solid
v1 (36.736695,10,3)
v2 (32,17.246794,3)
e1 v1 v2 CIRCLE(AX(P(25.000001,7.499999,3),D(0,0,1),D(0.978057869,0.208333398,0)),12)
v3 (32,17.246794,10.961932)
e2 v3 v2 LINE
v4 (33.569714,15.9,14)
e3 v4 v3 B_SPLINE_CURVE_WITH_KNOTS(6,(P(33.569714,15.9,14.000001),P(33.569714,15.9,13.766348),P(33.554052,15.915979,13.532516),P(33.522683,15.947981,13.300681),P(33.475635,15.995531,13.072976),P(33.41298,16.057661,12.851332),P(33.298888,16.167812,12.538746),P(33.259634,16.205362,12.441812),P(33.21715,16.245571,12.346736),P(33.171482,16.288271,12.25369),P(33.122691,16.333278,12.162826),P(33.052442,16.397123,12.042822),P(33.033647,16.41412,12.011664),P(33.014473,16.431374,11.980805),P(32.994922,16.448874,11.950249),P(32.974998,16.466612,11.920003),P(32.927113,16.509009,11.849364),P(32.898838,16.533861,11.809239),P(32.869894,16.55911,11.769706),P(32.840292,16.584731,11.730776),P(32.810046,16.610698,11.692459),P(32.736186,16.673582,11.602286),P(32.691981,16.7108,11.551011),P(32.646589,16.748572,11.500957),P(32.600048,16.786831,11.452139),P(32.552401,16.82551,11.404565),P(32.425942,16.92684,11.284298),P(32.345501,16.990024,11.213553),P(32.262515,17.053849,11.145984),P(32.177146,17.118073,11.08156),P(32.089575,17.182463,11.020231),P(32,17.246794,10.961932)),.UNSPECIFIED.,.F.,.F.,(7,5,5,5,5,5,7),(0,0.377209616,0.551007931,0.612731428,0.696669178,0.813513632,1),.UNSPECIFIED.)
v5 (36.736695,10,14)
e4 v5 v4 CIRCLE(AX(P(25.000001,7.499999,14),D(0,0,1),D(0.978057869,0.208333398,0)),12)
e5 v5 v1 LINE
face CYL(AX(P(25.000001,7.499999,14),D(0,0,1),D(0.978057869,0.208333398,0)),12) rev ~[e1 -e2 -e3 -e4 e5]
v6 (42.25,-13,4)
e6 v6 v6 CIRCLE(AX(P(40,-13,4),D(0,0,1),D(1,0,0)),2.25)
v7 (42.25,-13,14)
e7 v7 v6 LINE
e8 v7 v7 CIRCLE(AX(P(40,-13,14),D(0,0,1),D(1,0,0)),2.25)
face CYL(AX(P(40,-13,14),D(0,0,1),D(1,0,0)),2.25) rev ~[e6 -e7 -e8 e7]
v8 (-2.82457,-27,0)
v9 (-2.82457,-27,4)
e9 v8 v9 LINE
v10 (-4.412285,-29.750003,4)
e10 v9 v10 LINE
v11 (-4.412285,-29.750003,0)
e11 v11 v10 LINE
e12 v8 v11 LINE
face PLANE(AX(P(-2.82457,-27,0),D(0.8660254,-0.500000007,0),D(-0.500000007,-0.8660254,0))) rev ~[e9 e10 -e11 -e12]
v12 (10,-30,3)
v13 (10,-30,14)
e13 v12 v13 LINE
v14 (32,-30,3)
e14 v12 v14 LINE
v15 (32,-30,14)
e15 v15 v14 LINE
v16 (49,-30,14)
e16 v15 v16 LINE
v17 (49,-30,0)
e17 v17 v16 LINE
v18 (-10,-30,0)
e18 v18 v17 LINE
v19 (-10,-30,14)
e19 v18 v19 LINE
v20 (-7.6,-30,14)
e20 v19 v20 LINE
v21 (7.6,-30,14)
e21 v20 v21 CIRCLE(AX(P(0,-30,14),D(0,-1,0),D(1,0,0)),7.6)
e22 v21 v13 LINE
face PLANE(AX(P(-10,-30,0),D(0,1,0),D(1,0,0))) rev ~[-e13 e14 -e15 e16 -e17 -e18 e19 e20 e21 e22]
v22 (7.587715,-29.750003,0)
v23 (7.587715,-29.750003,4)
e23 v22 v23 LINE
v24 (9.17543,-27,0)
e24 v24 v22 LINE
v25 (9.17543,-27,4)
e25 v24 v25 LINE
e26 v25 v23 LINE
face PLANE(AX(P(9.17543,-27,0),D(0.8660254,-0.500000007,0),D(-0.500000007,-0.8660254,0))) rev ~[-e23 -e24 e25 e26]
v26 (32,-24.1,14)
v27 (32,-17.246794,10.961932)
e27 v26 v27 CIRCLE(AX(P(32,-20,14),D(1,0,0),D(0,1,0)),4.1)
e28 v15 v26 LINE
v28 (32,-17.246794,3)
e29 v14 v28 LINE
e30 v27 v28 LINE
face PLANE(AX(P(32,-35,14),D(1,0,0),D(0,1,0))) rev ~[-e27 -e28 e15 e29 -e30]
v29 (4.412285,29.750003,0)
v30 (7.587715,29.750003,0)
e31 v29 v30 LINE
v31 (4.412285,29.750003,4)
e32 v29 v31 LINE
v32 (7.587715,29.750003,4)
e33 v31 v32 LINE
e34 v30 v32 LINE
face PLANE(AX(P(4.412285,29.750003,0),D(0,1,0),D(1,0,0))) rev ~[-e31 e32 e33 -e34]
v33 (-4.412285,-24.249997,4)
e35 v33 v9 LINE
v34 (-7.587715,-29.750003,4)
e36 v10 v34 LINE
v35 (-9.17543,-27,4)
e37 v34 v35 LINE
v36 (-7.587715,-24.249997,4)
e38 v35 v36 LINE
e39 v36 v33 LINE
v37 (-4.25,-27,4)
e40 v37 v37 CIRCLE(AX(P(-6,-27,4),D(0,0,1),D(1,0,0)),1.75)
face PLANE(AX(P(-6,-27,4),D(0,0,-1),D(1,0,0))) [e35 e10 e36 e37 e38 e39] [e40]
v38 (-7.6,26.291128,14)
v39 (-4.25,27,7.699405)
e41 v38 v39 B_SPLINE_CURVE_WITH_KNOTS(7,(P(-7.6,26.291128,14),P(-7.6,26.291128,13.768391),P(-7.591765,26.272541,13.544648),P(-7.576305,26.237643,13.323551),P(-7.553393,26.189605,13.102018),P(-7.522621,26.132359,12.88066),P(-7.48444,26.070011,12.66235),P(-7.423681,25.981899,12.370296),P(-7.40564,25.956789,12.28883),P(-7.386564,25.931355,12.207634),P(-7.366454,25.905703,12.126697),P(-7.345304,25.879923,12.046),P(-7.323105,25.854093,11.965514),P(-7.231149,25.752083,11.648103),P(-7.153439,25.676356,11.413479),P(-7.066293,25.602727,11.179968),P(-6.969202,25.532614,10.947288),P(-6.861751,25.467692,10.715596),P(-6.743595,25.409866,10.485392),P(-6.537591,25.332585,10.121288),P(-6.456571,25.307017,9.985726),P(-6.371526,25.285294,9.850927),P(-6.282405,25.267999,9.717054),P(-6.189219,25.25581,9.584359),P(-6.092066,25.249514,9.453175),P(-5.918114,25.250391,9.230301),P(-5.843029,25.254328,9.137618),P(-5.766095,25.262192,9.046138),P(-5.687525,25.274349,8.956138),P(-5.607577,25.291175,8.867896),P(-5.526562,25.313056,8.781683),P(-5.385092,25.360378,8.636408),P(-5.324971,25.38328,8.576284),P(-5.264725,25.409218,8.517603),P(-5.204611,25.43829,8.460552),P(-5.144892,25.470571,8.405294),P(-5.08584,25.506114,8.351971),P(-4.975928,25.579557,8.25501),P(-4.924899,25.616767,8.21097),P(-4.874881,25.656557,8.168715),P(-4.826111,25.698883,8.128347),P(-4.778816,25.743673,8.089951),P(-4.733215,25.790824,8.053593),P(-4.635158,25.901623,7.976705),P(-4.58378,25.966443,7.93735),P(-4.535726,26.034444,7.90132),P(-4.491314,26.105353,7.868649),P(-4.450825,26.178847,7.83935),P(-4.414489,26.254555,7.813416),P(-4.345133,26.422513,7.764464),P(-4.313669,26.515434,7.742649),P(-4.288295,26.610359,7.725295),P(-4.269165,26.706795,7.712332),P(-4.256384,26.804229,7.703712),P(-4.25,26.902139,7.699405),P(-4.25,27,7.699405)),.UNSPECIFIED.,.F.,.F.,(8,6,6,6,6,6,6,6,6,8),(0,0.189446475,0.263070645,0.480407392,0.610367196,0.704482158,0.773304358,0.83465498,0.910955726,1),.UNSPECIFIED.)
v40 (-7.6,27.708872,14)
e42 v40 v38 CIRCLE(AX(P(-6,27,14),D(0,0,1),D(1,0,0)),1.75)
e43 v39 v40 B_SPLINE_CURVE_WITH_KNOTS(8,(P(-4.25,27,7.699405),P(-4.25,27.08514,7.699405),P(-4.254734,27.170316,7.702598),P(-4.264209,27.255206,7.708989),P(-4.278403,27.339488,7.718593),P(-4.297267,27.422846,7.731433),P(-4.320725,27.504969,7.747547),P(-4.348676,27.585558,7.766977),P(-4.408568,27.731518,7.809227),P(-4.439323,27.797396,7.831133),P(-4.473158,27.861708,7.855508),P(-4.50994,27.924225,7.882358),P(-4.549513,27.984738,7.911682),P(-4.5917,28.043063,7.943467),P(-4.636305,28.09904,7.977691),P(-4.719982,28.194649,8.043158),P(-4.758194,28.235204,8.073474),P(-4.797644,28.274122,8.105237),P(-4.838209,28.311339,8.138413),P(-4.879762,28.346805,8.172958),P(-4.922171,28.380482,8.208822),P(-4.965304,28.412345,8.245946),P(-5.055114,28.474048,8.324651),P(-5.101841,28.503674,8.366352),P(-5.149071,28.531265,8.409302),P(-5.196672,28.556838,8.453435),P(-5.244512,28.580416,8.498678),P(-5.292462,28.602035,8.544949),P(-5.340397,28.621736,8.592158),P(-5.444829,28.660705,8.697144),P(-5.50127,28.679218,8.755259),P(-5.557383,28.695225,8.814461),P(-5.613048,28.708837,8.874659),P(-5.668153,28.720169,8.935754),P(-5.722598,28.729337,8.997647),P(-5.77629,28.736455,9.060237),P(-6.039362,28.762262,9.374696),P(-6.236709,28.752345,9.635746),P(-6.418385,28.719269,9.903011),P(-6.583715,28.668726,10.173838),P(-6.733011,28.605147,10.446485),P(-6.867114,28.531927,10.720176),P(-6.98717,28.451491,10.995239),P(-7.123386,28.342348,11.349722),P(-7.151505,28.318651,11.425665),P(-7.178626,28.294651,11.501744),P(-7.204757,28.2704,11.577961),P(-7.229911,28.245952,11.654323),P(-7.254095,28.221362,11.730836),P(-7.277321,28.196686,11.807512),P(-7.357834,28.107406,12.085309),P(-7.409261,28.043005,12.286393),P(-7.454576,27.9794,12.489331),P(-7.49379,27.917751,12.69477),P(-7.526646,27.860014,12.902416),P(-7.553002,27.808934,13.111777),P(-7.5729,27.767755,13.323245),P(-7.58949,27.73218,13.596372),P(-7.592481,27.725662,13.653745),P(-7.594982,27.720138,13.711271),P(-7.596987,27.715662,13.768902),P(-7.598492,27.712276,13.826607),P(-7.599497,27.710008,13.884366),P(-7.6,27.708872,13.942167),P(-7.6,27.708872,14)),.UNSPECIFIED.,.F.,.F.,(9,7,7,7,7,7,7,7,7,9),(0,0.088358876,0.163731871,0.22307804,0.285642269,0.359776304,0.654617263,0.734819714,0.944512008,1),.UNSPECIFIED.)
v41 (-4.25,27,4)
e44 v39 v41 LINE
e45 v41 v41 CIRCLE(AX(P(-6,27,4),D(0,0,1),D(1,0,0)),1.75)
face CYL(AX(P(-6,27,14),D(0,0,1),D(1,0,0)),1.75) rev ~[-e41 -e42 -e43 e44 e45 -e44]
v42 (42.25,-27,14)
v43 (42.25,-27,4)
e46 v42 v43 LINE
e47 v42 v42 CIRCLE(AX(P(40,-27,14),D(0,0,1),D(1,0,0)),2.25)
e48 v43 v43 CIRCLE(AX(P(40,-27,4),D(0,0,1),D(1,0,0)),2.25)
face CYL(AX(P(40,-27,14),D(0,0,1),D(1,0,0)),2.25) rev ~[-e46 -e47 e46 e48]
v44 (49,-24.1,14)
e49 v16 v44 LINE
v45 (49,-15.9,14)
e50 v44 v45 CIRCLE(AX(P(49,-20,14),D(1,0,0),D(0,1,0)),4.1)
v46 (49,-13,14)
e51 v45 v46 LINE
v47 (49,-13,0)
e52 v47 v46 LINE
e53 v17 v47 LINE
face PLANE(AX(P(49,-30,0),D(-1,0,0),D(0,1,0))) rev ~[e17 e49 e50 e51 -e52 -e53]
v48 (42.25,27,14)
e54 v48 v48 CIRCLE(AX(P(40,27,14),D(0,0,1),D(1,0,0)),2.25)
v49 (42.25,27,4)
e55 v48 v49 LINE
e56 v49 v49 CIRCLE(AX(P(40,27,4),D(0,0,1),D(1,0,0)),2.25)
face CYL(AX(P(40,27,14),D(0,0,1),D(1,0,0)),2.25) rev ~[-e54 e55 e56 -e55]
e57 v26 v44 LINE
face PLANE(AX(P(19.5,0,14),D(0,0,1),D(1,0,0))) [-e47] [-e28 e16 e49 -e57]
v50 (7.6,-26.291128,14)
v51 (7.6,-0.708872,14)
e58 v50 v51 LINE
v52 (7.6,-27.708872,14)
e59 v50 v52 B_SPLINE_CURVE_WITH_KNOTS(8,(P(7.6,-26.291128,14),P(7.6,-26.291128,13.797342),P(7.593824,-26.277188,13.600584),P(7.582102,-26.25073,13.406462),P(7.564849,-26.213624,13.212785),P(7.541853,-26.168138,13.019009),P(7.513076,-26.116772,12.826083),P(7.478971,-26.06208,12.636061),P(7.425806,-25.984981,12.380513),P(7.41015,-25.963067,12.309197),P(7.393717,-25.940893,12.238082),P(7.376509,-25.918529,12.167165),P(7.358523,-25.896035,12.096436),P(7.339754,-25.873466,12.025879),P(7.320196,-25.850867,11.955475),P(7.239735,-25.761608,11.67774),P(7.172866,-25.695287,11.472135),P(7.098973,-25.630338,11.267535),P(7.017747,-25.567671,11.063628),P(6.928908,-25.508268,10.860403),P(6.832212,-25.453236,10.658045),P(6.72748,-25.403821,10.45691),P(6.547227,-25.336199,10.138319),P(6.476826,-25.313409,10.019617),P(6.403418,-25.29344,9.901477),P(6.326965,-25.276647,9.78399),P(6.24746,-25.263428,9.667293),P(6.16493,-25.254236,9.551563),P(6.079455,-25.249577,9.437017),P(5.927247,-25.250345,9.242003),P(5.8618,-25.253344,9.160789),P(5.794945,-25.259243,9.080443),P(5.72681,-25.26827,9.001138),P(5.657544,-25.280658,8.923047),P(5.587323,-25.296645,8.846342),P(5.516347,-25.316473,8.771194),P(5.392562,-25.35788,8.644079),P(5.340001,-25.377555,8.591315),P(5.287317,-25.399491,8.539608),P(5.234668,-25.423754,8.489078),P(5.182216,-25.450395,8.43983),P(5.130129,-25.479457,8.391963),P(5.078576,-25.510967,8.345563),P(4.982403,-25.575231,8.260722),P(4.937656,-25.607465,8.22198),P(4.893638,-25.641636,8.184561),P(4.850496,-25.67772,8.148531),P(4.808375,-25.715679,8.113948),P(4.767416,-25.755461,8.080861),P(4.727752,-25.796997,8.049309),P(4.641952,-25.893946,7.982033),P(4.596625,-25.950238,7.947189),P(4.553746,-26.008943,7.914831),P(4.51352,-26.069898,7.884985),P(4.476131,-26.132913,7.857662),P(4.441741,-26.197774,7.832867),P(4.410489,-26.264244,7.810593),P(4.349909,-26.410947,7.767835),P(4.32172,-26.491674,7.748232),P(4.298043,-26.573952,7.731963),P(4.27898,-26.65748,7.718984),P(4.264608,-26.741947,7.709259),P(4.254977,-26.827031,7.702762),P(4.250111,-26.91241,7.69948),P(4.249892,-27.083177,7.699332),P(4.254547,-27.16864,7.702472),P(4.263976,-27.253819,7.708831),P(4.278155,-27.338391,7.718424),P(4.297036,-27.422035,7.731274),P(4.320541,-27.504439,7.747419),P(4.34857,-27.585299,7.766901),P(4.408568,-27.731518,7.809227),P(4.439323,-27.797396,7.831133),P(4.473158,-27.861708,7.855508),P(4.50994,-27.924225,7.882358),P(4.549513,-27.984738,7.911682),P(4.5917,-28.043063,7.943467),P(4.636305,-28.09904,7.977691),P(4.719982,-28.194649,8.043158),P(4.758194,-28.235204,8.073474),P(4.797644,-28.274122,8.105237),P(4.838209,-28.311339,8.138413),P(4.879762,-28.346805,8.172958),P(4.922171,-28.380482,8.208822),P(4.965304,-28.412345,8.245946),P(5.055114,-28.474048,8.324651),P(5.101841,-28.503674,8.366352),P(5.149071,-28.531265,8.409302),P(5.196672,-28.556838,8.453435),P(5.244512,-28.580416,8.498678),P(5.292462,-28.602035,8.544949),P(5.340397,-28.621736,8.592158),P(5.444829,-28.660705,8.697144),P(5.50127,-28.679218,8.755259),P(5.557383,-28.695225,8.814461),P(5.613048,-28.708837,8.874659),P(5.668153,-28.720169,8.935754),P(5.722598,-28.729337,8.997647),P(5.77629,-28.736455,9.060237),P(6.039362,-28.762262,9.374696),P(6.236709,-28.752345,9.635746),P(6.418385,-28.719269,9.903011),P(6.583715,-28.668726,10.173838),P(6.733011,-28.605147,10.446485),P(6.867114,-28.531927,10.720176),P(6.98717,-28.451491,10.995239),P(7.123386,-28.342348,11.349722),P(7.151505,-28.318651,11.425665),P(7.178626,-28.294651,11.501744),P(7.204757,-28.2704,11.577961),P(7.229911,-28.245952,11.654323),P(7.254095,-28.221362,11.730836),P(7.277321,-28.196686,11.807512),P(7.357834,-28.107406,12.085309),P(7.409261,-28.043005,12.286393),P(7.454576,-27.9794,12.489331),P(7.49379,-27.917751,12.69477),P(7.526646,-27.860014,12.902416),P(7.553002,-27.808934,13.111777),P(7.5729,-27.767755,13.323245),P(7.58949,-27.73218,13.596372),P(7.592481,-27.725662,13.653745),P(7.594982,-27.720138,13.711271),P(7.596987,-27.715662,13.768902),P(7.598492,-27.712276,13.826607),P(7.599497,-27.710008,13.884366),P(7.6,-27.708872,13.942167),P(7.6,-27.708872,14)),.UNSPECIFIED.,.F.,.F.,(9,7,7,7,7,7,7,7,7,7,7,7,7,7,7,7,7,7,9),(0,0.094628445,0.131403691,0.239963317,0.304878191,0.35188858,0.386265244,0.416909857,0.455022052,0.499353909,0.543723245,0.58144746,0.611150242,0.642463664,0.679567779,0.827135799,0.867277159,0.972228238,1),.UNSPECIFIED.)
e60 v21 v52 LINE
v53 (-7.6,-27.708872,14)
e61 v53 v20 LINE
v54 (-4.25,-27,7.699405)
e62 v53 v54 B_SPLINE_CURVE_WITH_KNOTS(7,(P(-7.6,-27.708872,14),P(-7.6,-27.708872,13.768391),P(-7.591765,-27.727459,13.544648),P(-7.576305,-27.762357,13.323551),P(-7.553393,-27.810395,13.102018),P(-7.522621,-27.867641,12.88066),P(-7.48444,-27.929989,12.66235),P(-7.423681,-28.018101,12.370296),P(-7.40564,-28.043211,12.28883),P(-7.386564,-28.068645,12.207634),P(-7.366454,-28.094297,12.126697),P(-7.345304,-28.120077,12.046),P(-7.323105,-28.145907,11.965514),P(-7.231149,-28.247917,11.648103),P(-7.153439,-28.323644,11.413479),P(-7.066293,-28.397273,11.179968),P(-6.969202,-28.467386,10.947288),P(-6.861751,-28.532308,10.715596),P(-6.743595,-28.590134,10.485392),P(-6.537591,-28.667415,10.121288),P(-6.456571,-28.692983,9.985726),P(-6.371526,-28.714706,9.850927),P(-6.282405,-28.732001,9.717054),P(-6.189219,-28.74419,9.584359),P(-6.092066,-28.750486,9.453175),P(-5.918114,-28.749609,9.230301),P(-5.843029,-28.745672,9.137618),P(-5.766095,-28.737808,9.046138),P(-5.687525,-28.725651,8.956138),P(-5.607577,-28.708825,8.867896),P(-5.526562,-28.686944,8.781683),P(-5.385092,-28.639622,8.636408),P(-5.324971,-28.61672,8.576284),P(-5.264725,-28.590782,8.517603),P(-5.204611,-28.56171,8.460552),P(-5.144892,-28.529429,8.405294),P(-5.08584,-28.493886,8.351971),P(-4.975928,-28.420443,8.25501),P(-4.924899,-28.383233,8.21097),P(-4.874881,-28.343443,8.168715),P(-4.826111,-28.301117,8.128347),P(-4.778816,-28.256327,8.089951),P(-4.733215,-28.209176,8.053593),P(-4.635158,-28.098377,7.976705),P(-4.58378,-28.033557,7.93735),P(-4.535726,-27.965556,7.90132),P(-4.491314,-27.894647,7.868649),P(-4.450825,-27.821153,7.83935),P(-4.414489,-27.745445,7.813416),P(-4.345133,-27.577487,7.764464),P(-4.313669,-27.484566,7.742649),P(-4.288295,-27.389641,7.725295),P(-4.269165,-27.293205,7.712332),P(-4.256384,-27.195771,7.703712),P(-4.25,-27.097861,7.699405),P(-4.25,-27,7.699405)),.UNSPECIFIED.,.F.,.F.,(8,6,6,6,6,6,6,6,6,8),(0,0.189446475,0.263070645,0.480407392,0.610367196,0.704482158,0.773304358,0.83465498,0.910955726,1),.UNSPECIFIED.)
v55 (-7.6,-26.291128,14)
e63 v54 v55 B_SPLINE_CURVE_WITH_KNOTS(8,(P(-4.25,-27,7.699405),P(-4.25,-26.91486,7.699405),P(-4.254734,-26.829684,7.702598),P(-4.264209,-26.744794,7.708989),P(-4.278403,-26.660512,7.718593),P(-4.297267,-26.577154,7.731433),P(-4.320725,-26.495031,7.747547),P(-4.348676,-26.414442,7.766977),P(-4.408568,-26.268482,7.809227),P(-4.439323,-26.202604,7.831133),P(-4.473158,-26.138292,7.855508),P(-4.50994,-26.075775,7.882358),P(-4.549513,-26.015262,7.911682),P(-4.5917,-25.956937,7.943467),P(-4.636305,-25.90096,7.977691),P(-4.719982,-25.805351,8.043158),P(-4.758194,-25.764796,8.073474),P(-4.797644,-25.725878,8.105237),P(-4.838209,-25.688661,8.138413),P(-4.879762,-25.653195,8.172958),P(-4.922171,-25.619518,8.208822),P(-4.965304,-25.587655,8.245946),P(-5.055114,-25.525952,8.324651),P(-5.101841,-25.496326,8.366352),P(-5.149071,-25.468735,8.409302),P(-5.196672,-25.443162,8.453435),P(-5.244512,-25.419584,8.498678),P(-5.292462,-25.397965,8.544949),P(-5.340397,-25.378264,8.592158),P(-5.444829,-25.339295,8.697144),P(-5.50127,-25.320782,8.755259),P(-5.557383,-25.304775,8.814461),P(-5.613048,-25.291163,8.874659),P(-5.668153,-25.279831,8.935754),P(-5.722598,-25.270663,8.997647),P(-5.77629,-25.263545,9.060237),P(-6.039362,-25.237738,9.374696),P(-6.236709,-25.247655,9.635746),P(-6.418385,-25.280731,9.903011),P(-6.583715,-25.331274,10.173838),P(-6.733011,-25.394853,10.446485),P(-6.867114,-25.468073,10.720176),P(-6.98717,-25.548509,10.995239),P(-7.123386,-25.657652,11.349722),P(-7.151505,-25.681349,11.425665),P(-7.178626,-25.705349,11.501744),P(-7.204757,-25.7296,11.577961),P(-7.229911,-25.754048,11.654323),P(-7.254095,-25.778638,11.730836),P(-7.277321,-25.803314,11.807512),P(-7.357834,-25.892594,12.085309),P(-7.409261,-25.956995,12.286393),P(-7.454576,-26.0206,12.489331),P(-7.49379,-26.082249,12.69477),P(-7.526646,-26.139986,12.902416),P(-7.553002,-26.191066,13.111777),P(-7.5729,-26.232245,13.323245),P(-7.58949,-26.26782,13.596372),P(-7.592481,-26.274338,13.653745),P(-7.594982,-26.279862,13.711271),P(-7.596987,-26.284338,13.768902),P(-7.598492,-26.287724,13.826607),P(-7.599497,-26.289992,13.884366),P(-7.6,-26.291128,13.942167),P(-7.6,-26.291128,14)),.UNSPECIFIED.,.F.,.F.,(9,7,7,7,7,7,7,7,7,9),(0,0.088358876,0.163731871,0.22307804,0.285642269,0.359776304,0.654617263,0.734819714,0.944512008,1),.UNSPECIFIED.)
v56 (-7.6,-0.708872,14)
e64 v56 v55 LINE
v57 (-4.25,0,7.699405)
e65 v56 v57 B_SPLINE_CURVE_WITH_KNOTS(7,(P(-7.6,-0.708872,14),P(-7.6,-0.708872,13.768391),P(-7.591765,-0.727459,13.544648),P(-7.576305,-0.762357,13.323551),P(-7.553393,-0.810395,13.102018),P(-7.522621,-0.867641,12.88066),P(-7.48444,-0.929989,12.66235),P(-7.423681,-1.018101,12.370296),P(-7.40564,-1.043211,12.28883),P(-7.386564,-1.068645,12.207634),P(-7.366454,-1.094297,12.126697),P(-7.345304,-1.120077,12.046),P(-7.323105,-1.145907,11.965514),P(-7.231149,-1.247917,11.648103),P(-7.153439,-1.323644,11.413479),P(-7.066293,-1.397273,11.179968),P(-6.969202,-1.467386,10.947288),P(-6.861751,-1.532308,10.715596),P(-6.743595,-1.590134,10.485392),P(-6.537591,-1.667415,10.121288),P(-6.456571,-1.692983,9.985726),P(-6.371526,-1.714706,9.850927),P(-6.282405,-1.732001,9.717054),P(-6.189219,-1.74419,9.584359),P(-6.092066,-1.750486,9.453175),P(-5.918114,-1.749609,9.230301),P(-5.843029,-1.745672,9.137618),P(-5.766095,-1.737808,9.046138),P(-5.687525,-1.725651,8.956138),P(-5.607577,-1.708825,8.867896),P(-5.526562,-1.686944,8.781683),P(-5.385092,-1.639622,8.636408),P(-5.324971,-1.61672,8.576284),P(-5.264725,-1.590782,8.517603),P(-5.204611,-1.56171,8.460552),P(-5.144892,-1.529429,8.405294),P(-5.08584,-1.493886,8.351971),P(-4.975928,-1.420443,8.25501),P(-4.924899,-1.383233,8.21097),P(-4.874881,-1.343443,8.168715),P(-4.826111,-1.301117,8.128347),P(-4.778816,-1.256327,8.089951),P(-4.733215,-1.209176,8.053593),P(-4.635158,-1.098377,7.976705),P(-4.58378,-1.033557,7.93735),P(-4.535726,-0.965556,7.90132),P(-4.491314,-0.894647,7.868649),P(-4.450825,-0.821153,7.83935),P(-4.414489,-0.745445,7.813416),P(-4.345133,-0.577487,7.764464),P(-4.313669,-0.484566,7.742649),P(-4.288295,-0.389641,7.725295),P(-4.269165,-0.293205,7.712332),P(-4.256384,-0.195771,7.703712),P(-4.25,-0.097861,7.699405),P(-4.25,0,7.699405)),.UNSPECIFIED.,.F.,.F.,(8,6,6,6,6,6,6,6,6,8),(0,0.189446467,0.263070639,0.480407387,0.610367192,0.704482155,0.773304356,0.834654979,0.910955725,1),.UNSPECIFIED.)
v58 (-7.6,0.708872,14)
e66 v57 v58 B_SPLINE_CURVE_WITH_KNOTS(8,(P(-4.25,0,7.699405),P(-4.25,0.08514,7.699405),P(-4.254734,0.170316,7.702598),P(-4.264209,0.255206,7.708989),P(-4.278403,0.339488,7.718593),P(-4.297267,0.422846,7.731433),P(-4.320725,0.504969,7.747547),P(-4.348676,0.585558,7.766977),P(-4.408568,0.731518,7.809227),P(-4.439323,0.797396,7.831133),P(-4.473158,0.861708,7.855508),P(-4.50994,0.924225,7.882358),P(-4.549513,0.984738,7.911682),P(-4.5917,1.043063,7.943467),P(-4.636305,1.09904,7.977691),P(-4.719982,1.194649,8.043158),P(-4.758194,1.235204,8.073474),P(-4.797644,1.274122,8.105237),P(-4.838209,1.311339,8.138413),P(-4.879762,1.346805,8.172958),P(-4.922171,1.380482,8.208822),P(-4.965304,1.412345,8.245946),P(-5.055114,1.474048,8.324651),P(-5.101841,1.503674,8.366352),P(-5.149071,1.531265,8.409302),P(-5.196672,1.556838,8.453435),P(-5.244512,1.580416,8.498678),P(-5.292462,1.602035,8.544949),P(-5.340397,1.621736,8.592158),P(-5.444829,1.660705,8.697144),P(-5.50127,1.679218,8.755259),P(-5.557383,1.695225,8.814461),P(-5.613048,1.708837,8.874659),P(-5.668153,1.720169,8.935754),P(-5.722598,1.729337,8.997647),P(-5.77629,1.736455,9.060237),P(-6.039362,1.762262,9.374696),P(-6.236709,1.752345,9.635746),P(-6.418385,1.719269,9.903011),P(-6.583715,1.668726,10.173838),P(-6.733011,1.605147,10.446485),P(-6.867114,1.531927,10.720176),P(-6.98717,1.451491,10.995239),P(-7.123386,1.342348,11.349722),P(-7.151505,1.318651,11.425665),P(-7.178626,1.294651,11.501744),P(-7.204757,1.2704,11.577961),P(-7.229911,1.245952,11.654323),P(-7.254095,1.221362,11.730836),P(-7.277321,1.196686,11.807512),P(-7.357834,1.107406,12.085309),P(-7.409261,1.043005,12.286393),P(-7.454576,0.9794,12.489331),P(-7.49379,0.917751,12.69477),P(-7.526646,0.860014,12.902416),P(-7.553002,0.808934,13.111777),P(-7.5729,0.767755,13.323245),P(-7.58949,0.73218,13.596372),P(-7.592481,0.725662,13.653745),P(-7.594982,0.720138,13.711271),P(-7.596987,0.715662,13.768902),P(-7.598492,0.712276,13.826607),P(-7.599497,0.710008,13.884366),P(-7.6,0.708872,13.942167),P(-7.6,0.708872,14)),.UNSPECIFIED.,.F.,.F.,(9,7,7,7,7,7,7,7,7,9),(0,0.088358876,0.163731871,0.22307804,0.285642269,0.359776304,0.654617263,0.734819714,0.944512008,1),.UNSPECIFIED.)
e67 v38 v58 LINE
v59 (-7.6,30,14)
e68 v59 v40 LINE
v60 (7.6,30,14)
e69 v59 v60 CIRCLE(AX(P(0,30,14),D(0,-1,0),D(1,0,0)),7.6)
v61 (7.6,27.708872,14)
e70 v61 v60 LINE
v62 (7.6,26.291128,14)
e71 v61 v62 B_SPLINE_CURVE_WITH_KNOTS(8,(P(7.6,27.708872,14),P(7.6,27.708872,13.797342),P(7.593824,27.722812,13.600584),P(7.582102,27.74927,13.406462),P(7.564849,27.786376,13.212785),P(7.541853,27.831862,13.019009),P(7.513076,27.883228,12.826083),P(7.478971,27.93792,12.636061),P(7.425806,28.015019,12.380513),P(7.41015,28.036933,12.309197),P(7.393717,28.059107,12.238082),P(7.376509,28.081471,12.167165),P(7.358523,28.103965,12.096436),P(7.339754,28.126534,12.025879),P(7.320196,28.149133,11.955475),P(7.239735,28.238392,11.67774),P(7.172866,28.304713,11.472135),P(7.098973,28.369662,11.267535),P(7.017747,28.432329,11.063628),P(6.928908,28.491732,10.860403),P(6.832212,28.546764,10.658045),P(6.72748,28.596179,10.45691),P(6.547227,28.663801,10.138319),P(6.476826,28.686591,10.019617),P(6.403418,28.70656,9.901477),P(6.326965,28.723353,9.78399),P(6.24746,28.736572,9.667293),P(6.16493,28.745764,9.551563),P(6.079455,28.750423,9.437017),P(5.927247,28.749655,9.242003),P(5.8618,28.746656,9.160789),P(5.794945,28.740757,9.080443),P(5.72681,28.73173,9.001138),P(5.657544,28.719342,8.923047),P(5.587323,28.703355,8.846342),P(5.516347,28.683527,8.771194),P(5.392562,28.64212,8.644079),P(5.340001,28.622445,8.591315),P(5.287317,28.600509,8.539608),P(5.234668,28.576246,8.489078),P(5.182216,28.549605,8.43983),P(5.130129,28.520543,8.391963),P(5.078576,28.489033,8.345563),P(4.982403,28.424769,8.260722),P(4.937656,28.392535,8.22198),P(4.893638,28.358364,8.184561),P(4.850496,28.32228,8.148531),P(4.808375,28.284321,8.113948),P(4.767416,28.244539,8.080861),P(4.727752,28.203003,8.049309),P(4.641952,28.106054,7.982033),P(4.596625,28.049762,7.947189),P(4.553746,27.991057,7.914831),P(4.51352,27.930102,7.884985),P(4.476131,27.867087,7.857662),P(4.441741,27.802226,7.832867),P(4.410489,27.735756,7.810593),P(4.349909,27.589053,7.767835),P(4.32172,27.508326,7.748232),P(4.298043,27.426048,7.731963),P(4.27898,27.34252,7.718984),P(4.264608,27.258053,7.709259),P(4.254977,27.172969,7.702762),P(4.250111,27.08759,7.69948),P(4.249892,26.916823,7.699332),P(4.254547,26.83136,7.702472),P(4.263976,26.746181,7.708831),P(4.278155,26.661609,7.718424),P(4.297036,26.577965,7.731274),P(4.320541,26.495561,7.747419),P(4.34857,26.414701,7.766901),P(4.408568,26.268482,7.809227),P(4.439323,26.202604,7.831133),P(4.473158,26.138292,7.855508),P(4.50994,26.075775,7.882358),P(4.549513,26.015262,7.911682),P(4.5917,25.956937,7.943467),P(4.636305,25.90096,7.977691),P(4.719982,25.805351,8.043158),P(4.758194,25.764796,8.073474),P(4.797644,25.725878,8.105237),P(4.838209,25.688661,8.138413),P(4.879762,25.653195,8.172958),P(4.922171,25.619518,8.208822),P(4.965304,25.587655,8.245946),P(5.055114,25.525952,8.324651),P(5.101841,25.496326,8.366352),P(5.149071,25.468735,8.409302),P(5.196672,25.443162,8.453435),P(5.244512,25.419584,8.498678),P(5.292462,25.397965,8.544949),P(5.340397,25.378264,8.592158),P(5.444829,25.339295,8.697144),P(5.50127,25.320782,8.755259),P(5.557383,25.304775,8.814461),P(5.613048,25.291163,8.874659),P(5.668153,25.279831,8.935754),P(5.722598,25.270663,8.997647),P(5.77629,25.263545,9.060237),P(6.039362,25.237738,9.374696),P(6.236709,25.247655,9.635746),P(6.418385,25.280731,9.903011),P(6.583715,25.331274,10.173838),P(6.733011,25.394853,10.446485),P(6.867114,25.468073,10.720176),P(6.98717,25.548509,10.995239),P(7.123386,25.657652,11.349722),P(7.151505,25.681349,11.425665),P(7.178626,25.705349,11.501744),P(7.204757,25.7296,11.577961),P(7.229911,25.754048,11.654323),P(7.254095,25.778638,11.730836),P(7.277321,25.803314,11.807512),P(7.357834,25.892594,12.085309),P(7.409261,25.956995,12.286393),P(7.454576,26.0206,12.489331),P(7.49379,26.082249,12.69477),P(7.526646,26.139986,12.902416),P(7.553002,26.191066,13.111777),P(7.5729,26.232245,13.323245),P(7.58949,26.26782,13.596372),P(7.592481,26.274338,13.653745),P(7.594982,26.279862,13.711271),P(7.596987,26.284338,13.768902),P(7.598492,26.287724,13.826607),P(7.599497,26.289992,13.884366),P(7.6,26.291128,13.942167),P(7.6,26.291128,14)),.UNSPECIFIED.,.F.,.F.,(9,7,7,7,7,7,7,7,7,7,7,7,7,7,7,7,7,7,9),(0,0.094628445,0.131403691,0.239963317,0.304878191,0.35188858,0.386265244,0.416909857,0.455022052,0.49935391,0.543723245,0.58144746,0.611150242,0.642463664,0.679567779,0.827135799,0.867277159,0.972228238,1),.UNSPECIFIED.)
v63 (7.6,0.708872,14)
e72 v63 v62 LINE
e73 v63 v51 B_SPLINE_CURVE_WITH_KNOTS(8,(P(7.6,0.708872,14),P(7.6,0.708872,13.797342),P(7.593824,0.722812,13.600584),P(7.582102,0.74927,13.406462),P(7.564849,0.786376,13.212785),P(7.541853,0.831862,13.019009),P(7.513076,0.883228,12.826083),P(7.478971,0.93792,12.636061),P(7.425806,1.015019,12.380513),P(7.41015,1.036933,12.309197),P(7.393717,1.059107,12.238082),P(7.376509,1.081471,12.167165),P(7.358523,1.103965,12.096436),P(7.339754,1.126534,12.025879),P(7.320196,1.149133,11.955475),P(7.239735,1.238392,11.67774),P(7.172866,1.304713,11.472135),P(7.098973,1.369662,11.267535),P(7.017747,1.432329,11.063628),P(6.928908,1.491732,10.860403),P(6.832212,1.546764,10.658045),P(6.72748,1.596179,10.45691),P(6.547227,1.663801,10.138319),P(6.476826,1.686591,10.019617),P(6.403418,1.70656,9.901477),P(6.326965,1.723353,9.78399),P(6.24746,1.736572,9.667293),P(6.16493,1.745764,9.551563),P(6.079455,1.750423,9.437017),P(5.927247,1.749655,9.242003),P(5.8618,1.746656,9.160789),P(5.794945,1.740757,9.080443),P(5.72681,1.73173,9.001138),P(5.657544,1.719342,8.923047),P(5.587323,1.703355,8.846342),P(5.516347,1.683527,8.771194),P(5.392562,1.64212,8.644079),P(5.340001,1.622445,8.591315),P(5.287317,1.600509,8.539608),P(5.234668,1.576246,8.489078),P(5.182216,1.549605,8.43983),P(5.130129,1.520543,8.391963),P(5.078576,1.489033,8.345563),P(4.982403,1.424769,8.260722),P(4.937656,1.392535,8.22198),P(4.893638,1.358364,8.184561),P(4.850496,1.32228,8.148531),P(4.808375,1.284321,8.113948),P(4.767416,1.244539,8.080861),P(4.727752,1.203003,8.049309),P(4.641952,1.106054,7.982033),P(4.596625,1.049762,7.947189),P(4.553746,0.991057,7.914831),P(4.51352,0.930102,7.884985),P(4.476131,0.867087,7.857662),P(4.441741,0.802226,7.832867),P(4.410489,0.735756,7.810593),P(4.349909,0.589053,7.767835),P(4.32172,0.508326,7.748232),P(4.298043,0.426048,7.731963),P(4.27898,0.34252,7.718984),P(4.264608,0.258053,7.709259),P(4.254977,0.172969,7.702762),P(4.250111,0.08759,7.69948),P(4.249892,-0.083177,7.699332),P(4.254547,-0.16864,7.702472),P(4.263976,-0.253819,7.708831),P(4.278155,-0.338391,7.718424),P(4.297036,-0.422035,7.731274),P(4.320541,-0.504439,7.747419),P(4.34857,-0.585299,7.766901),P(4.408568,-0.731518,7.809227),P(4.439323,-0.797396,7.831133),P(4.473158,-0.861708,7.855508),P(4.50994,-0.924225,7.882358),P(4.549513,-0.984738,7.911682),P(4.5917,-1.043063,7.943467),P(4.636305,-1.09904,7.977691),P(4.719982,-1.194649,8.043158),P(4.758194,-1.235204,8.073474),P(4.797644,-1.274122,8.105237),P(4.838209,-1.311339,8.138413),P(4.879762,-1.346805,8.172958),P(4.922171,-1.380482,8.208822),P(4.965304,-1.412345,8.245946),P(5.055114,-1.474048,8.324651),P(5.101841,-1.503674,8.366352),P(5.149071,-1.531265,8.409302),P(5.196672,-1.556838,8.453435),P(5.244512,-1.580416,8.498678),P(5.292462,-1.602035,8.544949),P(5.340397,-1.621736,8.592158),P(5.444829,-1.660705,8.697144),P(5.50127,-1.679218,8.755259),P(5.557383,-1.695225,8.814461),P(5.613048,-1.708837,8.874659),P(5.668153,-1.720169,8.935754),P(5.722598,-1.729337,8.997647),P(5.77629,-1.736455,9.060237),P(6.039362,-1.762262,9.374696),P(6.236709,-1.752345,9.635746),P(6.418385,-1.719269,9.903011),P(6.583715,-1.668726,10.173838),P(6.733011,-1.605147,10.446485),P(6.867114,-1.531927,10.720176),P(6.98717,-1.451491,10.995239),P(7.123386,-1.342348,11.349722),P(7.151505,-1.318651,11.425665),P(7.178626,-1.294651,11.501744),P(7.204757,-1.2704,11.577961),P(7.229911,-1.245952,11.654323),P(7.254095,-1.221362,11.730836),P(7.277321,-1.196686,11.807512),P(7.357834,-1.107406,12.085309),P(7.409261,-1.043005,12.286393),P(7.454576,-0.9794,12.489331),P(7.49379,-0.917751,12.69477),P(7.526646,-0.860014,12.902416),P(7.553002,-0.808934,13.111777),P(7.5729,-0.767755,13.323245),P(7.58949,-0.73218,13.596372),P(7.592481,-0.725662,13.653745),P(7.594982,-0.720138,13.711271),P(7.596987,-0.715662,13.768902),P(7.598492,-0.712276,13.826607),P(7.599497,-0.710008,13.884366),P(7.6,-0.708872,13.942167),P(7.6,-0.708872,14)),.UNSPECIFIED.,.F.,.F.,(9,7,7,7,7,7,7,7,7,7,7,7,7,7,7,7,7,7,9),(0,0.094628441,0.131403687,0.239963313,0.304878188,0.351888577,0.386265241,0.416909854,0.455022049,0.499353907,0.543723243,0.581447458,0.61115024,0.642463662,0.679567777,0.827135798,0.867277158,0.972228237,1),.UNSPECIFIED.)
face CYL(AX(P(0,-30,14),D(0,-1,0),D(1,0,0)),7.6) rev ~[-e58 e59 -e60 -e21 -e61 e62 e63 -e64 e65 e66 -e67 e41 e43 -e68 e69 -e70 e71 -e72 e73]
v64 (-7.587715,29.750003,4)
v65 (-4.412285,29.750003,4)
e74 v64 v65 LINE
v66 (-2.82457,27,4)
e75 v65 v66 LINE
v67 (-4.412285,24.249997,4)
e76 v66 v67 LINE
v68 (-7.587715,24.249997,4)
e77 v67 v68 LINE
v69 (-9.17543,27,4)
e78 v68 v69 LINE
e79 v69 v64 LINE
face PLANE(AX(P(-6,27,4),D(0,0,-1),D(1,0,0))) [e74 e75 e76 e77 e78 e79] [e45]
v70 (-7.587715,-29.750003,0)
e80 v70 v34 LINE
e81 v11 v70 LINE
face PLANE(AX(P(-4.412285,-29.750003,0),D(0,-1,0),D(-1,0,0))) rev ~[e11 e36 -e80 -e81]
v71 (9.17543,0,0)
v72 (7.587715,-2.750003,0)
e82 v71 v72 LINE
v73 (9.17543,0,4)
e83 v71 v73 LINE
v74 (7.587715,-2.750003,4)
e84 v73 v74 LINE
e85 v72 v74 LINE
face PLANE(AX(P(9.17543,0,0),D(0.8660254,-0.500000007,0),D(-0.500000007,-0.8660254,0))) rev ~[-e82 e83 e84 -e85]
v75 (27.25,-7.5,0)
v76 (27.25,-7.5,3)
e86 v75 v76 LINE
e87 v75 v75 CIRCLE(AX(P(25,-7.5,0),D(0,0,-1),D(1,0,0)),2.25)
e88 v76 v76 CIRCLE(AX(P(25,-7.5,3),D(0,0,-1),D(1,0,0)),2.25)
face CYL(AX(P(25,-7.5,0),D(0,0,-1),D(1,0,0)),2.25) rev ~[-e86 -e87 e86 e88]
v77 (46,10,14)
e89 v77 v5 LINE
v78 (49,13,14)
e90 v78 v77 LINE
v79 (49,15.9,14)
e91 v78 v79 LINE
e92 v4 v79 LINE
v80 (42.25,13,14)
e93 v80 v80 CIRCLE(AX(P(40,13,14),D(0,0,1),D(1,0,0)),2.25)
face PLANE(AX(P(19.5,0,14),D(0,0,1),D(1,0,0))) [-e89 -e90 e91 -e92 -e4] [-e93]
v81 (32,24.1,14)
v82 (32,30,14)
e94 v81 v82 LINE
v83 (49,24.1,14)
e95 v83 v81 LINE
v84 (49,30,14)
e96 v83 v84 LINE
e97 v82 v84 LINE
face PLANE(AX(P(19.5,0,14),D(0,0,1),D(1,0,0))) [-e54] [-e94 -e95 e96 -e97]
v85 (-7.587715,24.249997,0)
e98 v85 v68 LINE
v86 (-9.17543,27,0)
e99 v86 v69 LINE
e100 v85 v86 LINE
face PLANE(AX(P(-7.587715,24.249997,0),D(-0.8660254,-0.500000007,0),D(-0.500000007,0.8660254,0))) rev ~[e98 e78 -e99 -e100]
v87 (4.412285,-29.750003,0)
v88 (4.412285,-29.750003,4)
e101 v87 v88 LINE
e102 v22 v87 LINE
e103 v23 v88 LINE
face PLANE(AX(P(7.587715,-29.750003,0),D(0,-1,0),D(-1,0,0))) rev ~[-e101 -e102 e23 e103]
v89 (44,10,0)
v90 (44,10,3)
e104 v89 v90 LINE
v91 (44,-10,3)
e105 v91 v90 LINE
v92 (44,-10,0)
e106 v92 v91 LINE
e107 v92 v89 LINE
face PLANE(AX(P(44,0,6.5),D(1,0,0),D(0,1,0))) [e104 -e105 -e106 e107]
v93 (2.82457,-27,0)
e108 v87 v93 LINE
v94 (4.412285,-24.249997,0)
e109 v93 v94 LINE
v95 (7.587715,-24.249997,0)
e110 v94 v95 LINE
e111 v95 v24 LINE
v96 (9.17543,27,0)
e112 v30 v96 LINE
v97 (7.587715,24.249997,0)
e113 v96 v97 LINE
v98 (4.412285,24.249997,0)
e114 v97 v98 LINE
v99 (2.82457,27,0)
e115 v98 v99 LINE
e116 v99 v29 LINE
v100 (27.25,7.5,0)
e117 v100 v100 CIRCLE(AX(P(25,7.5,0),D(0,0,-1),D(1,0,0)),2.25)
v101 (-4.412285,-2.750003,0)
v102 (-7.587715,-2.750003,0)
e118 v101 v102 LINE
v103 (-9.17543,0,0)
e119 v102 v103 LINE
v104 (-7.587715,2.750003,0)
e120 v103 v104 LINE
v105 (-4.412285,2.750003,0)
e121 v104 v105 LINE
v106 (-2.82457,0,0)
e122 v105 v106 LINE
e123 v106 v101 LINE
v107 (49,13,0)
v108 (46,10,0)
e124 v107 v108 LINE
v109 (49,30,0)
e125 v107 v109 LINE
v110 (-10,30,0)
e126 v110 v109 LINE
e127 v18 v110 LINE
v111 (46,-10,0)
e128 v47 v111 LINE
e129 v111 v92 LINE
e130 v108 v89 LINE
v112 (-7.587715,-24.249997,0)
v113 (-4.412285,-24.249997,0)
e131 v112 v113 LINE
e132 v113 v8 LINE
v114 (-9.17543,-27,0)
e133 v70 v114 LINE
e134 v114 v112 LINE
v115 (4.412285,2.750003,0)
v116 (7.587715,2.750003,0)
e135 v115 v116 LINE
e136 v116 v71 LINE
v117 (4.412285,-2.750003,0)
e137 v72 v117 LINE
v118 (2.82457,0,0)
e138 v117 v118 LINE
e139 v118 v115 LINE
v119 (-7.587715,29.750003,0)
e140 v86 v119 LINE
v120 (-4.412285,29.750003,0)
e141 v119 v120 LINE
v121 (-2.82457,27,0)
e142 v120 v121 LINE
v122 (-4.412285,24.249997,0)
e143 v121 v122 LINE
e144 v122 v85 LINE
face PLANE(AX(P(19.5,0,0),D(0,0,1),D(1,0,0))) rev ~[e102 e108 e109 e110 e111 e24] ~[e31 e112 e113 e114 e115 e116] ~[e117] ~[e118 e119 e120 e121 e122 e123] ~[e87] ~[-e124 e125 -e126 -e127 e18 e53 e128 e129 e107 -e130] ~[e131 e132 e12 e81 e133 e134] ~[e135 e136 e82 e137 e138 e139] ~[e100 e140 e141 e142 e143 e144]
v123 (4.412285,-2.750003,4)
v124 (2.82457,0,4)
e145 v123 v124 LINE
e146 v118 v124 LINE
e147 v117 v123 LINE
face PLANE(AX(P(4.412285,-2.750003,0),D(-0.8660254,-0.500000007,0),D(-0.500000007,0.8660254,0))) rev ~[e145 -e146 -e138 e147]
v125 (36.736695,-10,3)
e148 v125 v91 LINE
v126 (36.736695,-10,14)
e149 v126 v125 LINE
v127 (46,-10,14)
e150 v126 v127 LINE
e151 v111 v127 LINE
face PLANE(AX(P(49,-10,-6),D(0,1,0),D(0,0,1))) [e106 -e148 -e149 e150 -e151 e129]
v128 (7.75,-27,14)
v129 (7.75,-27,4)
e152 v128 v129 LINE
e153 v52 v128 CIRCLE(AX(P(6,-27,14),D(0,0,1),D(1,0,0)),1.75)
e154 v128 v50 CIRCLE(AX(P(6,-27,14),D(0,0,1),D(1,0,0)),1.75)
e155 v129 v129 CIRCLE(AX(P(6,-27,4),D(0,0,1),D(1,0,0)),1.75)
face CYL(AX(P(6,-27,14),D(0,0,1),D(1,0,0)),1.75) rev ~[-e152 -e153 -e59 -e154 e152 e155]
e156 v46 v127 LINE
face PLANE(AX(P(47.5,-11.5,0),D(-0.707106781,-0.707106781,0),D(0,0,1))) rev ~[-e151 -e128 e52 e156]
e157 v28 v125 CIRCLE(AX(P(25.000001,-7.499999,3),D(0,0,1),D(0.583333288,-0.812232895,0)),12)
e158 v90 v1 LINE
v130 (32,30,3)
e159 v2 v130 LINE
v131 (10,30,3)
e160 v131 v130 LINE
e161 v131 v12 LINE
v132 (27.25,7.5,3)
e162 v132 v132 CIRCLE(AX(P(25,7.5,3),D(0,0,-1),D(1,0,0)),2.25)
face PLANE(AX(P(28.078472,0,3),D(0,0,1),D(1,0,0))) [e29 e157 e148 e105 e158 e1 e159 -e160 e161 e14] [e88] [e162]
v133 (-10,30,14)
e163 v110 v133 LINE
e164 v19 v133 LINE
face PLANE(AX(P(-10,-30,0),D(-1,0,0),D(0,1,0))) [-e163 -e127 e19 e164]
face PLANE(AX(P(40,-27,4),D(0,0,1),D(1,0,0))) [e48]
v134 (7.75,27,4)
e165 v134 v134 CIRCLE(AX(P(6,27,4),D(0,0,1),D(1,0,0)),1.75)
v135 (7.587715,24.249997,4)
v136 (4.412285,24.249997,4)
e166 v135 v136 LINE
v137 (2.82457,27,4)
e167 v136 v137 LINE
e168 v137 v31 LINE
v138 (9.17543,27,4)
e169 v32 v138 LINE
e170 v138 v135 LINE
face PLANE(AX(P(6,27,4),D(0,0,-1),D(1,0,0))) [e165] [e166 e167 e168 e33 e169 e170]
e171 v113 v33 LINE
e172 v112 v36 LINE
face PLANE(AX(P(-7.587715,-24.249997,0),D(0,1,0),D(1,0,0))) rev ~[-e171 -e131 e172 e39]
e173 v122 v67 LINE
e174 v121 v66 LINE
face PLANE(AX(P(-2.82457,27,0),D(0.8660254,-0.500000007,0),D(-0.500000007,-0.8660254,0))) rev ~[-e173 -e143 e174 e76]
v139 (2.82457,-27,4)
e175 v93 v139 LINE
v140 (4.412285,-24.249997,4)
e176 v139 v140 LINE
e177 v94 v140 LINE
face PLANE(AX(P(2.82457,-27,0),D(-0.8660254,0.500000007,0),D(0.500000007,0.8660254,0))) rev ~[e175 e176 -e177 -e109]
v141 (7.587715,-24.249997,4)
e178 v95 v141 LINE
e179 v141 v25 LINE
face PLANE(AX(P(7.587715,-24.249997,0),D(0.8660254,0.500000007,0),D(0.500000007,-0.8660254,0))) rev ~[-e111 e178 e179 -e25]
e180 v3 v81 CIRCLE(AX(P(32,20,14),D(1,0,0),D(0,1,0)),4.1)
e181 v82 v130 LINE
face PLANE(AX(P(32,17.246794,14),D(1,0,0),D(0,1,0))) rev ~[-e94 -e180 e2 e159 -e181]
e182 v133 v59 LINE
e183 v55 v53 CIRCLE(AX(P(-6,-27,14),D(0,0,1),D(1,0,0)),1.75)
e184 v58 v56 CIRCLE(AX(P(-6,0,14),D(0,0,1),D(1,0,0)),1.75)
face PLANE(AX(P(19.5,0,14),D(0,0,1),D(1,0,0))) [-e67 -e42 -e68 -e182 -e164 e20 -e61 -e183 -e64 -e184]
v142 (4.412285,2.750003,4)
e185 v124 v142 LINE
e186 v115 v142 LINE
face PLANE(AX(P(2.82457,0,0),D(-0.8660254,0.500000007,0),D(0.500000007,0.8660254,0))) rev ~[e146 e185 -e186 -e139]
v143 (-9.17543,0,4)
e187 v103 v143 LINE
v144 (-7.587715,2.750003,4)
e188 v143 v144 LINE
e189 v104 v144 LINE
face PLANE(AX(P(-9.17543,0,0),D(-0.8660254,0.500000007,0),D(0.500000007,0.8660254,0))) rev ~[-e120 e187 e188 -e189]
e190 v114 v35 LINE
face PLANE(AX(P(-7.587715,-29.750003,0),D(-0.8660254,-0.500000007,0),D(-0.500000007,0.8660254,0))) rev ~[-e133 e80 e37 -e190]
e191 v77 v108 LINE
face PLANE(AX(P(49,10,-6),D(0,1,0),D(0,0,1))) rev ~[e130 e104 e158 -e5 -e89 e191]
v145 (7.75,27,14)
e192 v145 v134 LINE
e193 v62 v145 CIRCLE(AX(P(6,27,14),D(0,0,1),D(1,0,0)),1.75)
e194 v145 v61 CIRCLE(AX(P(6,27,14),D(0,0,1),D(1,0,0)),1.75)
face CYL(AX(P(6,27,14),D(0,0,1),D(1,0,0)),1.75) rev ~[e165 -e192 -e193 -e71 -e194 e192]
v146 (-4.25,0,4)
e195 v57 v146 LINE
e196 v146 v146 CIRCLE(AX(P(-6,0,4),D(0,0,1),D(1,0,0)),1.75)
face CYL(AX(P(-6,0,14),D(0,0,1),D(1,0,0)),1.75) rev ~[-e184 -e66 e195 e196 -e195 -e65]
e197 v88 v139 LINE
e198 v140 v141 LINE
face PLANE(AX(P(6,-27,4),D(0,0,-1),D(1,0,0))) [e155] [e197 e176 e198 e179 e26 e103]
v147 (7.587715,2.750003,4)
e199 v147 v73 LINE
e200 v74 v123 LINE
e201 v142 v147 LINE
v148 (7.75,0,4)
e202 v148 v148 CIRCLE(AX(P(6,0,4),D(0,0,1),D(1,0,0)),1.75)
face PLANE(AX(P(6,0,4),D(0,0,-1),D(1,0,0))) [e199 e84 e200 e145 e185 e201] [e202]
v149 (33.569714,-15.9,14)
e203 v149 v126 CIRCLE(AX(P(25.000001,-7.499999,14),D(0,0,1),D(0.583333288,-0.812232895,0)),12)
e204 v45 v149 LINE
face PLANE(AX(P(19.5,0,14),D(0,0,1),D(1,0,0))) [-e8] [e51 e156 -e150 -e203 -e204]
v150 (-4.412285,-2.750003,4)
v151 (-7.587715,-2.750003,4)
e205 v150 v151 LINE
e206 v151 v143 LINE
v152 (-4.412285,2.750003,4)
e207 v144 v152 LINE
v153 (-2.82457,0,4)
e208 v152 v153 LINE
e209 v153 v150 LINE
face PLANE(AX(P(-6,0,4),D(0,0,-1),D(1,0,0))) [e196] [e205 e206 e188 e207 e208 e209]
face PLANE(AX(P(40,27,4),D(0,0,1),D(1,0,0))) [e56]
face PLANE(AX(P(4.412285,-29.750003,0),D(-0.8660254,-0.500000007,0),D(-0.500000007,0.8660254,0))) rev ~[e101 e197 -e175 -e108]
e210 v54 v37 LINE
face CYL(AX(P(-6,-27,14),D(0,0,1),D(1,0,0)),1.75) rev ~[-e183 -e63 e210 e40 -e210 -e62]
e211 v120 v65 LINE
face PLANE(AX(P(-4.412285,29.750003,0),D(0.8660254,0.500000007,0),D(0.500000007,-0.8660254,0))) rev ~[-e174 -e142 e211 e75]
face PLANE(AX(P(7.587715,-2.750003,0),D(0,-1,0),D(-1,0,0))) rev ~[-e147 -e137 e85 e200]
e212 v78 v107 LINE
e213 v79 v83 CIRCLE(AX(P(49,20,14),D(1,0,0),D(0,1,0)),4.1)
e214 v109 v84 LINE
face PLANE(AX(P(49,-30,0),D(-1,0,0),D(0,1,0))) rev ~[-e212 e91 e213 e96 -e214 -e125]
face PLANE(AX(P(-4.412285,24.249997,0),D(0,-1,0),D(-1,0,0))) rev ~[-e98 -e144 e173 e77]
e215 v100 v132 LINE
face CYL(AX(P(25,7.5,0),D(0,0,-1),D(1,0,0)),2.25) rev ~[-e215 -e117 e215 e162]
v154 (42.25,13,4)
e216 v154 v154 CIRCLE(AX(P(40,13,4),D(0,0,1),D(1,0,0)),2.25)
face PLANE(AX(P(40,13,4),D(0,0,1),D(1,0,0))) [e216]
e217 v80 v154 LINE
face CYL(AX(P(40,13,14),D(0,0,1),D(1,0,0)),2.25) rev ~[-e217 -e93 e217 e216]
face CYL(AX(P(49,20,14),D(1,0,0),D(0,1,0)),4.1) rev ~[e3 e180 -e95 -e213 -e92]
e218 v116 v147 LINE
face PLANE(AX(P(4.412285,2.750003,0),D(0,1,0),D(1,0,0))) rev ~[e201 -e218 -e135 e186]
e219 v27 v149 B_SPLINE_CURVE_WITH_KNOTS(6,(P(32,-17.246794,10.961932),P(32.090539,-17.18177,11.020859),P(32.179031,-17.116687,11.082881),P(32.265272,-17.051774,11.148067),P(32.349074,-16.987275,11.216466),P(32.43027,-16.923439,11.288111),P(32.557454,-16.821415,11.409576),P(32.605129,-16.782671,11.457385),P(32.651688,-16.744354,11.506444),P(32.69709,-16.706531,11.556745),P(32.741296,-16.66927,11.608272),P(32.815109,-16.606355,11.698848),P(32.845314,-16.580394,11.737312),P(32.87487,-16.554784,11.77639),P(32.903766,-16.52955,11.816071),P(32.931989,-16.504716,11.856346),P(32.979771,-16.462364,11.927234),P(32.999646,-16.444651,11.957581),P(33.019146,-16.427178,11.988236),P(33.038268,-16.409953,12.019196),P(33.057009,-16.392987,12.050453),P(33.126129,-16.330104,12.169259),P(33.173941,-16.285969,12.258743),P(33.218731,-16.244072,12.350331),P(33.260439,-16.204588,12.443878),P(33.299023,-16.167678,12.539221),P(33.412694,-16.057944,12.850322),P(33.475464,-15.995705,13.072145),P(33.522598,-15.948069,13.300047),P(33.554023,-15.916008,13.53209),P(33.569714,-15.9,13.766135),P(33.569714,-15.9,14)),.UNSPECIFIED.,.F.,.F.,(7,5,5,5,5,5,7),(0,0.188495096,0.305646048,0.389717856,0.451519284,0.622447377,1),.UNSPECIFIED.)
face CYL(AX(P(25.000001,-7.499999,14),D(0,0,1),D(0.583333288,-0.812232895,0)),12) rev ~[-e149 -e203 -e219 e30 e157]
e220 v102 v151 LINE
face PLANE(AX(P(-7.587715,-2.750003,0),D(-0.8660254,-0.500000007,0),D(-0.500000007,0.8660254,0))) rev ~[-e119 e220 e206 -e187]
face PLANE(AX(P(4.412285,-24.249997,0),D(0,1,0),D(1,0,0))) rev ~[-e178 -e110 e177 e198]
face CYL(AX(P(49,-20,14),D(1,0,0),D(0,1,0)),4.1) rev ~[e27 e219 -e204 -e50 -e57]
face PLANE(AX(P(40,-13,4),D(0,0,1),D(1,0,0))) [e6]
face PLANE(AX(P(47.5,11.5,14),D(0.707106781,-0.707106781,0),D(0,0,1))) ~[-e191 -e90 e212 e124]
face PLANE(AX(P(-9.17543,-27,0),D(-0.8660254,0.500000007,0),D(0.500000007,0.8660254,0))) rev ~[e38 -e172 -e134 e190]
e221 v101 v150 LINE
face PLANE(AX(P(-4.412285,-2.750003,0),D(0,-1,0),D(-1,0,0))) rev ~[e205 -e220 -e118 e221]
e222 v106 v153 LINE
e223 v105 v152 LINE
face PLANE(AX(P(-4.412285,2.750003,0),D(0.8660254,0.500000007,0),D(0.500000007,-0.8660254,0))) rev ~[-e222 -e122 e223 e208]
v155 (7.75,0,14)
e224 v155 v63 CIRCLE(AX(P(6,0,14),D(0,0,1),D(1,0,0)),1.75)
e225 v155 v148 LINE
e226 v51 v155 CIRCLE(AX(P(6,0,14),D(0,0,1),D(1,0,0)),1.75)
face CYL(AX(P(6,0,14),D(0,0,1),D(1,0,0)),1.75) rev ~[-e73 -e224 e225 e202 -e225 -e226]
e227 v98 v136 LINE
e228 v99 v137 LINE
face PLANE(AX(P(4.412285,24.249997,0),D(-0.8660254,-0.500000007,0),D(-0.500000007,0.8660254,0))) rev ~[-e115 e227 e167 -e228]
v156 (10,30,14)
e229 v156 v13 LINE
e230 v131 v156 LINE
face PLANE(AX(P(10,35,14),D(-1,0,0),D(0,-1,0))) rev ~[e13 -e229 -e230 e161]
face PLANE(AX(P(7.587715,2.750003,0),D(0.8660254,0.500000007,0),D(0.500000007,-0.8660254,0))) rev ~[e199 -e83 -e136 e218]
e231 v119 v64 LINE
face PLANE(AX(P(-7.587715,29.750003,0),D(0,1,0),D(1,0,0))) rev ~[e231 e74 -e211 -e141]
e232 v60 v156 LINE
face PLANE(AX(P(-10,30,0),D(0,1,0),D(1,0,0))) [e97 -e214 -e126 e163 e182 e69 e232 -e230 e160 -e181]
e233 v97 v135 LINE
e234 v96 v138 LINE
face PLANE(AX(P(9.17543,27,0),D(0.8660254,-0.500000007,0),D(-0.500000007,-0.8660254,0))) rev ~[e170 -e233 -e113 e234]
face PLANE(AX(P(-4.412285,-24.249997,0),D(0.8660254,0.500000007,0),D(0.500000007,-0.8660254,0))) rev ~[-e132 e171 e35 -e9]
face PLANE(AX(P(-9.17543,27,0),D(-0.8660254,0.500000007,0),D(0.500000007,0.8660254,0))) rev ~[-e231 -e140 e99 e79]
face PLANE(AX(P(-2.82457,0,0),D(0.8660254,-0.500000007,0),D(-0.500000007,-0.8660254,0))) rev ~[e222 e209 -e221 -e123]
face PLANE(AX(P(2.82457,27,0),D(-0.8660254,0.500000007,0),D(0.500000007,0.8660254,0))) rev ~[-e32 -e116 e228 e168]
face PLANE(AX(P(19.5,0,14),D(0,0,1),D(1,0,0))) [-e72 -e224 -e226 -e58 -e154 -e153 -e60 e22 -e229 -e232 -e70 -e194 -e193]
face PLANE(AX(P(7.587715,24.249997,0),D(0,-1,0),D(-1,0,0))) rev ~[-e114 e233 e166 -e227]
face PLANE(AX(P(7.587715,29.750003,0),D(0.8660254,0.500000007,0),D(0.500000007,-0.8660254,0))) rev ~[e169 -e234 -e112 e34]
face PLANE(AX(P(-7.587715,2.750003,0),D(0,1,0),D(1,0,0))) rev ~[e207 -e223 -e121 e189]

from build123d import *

# Parameters (mm, degrees)
SKETCH_W        = 59
SKETCH_H        = 60
PAD_DEPTH       = 14
SKETCH001_R     = 7.6
POCKET_DEPTH    = 60.001
SKETCH002_R     = 1.75
POCKET001_DEPTH = 14.001
POCKET002_DEPTH = 11
SKETCH004_R     = 2.25
POCKET003_DEPTH = 14.001
SKETCH008_R     = 4.1
POCKET005_DEPTH = 20
SKETCH010_W     = 20
SKETCH010_H     = 25
POCKET006_DEPTH = 5
SKETCH011_R     = 2.25
POCKET007_DEPTH = 10
CHAMFER_SIZE    = 3
POCKET008_DEPTH = 4


with BuildPart() as part:
    # Sketch → Pad (new body)
    with BuildSketch(Plane.XY):
        with Locations((19.5, 0)):
            Rectangle(SKETCH_W, SKETCH_H)
    extrude(amount=PAD_DEPTH)

    # Sketch001 → Pocket (cut, through all)
    with BuildSketch(Plane.XZ.offset(30)):
        with Locations((0, 14)):
            Circle(SKETCH001_R)
    extrude(amount=-POCKET_DEPTH, mode=Mode.SUBTRACT)

    # Sketch002 → Pocket001 (cut, through all)
    with BuildSketch(Plane.XY.offset(14)):
        with Locations((-6, 27)):
            Circle(SKETCH002_R)
        with Locations((-6, -27)):
            Circle(SKETCH002_R)
        with Locations((6, 27)):
            Circle(SKETCH002_R)
        with Locations((6, -27)):
            Circle(SKETCH002_R)
        with Locations((6, 0)):
            Circle(SKETCH002_R)
        with Locations((-6, 0)):
            Circle(SKETCH002_R)
    extrude(amount=-POCKET001_DEPTH, mode=Mode.SUBTRACT)

    # Sketch003 → Pocket002 (cut)
    with BuildSketch(Plane.XY.offset(14)):
        with BuildLine():
            Line((10, 35), (10, -35))
            Line((10, -35), (32, -35))
            Line((32, -35), (32, -17.246794))
            ThreePointArc((32, -17.246794), (35.044647, -14.065445), (36.736695, -10))
            Line((36.736695, -10), (56.736695, -10))
            Line((56.736695, -10), (56.736695, 10))
            Line((56.736695, 10), (36.736695, 10))
            ThreePointArc((36.736695, 10), (35.044647, 14.065445), (32, 17.246794))
            Line((32, 17.246794), (32, 35))
            Line((32, 35), (10, 35))
        make_face()
    extrude(amount=-POCKET002_DEPTH, mode=Mode.SUBTRACT)

    # Sketch004 → Pocket003 (cut, through all)
    with BuildSketch(Plane(origin=(0, 0, 0), x_dir=(1, 0, 0), z_dir=(0, 0, -1))):
        with Locations((25, 7.5)):
            Circle(SKETCH004_R)
        with Locations((25, -7.5)):
            Circle(SKETCH004_R)
    extrude(amount=-POCKET003_DEPTH, mode=Mode.SUBTRACT)

    # Sketch008 → Pocket005 (cut)
    with BuildSketch(Plane.YZ.offset(49)):
        with Locations((-20, 14)):
            Circle(SKETCH008_R)
        with Locations((20, 14)):
            Circle(SKETCH008_R)
    extrude(amount=-POCKET005_DEPTH, mode=Mode.SUBTRACT)

    # Sketch010 → Pocket006 (cut)
    with BuildSketch(Plane.YZ.offset(49)):
        with Locations((0, 6.5)):
            Rectangle(SKETCH010_W, SKETCH010_H)
    extrude(amount=-POCKET006_DEPTH, mode=Mode.SUBTRACT)

    # Sketch011 → Pocket007 (cut)
    with BuildSketch(Plane.XY.offset(14)):
        with Locations((40, 27)):
            Circle(SKETCH011_R)
        with Locations((40, 13)):
            Circle(SKETCH011_R)
        with Locations((40, -13)):
            Circle(SKETCH011_R)
        with Locations((40, -27)):
            Circle(SKETCH011_R)
    extrude(amount=-POCKET007_DEPTH, mode=Mode.SUBTRACT)

    # Chamfer
    chamfer_edges = [part.edges().sort_by_distance(p)[0] for p in [
        (49, -10, 8.5),
        (49, 10, 8.5),
    ]]
    chamfer(chamfer_edges, length=CHAMFER_SIZE)

    # Sketch012 → Pocket008 (cut)
    with BuildSketch(Plane(origin=(0, 0, 0), x_dir=(1, 0, 0), z_dir=(0, 0, -1))):
        Polygon((-4.412285, 29.750003), (-7.587715, 29.750003), (-9.17543, 27), (-7.587715, 24.249997), (-4.412285, 24.249997), (-2.82457, 27), align=None)
        Polygon((7.587715, 29.750003), (4.412285, 29.750003), (2.82457, 27), (4.412285, 24.249997), (7.587715, 24.249997), (9.17543, 27), align=None)
        Polygon((-4.412285, 2.750003), (-7.587715, 2.750003), (-9.17543, 0), (-7.587715, -2.750003), (-4.412285, -2.750003), (-2.82457, 0), align=None)
        Polygon((7.587715, 2.750003), (4.412285, 2.750003), (2.82457, 0), (4.412285, -2.750003), (7.587715, -2.750003), (9.17543, 0), align=None)
        Polygon((-4.412285, -24.249997), (-7.587715, -24.249997), (-9.17543, -27), (-7.587715, -29.750003), (-4.412285, -29.750003), (-2.82457, -27), align=None)
        Polygon((7.587715, -24.249997), (4.412285, -24.249997), (2.82457, -27), (4.412285, -29.750003), (7.587715, -29.750003), (9.17543, -27), align=None)
    extrude(amount=-POCKET008_DEPTH, mode=Mode.SUBTRACT)


solid = part.part
